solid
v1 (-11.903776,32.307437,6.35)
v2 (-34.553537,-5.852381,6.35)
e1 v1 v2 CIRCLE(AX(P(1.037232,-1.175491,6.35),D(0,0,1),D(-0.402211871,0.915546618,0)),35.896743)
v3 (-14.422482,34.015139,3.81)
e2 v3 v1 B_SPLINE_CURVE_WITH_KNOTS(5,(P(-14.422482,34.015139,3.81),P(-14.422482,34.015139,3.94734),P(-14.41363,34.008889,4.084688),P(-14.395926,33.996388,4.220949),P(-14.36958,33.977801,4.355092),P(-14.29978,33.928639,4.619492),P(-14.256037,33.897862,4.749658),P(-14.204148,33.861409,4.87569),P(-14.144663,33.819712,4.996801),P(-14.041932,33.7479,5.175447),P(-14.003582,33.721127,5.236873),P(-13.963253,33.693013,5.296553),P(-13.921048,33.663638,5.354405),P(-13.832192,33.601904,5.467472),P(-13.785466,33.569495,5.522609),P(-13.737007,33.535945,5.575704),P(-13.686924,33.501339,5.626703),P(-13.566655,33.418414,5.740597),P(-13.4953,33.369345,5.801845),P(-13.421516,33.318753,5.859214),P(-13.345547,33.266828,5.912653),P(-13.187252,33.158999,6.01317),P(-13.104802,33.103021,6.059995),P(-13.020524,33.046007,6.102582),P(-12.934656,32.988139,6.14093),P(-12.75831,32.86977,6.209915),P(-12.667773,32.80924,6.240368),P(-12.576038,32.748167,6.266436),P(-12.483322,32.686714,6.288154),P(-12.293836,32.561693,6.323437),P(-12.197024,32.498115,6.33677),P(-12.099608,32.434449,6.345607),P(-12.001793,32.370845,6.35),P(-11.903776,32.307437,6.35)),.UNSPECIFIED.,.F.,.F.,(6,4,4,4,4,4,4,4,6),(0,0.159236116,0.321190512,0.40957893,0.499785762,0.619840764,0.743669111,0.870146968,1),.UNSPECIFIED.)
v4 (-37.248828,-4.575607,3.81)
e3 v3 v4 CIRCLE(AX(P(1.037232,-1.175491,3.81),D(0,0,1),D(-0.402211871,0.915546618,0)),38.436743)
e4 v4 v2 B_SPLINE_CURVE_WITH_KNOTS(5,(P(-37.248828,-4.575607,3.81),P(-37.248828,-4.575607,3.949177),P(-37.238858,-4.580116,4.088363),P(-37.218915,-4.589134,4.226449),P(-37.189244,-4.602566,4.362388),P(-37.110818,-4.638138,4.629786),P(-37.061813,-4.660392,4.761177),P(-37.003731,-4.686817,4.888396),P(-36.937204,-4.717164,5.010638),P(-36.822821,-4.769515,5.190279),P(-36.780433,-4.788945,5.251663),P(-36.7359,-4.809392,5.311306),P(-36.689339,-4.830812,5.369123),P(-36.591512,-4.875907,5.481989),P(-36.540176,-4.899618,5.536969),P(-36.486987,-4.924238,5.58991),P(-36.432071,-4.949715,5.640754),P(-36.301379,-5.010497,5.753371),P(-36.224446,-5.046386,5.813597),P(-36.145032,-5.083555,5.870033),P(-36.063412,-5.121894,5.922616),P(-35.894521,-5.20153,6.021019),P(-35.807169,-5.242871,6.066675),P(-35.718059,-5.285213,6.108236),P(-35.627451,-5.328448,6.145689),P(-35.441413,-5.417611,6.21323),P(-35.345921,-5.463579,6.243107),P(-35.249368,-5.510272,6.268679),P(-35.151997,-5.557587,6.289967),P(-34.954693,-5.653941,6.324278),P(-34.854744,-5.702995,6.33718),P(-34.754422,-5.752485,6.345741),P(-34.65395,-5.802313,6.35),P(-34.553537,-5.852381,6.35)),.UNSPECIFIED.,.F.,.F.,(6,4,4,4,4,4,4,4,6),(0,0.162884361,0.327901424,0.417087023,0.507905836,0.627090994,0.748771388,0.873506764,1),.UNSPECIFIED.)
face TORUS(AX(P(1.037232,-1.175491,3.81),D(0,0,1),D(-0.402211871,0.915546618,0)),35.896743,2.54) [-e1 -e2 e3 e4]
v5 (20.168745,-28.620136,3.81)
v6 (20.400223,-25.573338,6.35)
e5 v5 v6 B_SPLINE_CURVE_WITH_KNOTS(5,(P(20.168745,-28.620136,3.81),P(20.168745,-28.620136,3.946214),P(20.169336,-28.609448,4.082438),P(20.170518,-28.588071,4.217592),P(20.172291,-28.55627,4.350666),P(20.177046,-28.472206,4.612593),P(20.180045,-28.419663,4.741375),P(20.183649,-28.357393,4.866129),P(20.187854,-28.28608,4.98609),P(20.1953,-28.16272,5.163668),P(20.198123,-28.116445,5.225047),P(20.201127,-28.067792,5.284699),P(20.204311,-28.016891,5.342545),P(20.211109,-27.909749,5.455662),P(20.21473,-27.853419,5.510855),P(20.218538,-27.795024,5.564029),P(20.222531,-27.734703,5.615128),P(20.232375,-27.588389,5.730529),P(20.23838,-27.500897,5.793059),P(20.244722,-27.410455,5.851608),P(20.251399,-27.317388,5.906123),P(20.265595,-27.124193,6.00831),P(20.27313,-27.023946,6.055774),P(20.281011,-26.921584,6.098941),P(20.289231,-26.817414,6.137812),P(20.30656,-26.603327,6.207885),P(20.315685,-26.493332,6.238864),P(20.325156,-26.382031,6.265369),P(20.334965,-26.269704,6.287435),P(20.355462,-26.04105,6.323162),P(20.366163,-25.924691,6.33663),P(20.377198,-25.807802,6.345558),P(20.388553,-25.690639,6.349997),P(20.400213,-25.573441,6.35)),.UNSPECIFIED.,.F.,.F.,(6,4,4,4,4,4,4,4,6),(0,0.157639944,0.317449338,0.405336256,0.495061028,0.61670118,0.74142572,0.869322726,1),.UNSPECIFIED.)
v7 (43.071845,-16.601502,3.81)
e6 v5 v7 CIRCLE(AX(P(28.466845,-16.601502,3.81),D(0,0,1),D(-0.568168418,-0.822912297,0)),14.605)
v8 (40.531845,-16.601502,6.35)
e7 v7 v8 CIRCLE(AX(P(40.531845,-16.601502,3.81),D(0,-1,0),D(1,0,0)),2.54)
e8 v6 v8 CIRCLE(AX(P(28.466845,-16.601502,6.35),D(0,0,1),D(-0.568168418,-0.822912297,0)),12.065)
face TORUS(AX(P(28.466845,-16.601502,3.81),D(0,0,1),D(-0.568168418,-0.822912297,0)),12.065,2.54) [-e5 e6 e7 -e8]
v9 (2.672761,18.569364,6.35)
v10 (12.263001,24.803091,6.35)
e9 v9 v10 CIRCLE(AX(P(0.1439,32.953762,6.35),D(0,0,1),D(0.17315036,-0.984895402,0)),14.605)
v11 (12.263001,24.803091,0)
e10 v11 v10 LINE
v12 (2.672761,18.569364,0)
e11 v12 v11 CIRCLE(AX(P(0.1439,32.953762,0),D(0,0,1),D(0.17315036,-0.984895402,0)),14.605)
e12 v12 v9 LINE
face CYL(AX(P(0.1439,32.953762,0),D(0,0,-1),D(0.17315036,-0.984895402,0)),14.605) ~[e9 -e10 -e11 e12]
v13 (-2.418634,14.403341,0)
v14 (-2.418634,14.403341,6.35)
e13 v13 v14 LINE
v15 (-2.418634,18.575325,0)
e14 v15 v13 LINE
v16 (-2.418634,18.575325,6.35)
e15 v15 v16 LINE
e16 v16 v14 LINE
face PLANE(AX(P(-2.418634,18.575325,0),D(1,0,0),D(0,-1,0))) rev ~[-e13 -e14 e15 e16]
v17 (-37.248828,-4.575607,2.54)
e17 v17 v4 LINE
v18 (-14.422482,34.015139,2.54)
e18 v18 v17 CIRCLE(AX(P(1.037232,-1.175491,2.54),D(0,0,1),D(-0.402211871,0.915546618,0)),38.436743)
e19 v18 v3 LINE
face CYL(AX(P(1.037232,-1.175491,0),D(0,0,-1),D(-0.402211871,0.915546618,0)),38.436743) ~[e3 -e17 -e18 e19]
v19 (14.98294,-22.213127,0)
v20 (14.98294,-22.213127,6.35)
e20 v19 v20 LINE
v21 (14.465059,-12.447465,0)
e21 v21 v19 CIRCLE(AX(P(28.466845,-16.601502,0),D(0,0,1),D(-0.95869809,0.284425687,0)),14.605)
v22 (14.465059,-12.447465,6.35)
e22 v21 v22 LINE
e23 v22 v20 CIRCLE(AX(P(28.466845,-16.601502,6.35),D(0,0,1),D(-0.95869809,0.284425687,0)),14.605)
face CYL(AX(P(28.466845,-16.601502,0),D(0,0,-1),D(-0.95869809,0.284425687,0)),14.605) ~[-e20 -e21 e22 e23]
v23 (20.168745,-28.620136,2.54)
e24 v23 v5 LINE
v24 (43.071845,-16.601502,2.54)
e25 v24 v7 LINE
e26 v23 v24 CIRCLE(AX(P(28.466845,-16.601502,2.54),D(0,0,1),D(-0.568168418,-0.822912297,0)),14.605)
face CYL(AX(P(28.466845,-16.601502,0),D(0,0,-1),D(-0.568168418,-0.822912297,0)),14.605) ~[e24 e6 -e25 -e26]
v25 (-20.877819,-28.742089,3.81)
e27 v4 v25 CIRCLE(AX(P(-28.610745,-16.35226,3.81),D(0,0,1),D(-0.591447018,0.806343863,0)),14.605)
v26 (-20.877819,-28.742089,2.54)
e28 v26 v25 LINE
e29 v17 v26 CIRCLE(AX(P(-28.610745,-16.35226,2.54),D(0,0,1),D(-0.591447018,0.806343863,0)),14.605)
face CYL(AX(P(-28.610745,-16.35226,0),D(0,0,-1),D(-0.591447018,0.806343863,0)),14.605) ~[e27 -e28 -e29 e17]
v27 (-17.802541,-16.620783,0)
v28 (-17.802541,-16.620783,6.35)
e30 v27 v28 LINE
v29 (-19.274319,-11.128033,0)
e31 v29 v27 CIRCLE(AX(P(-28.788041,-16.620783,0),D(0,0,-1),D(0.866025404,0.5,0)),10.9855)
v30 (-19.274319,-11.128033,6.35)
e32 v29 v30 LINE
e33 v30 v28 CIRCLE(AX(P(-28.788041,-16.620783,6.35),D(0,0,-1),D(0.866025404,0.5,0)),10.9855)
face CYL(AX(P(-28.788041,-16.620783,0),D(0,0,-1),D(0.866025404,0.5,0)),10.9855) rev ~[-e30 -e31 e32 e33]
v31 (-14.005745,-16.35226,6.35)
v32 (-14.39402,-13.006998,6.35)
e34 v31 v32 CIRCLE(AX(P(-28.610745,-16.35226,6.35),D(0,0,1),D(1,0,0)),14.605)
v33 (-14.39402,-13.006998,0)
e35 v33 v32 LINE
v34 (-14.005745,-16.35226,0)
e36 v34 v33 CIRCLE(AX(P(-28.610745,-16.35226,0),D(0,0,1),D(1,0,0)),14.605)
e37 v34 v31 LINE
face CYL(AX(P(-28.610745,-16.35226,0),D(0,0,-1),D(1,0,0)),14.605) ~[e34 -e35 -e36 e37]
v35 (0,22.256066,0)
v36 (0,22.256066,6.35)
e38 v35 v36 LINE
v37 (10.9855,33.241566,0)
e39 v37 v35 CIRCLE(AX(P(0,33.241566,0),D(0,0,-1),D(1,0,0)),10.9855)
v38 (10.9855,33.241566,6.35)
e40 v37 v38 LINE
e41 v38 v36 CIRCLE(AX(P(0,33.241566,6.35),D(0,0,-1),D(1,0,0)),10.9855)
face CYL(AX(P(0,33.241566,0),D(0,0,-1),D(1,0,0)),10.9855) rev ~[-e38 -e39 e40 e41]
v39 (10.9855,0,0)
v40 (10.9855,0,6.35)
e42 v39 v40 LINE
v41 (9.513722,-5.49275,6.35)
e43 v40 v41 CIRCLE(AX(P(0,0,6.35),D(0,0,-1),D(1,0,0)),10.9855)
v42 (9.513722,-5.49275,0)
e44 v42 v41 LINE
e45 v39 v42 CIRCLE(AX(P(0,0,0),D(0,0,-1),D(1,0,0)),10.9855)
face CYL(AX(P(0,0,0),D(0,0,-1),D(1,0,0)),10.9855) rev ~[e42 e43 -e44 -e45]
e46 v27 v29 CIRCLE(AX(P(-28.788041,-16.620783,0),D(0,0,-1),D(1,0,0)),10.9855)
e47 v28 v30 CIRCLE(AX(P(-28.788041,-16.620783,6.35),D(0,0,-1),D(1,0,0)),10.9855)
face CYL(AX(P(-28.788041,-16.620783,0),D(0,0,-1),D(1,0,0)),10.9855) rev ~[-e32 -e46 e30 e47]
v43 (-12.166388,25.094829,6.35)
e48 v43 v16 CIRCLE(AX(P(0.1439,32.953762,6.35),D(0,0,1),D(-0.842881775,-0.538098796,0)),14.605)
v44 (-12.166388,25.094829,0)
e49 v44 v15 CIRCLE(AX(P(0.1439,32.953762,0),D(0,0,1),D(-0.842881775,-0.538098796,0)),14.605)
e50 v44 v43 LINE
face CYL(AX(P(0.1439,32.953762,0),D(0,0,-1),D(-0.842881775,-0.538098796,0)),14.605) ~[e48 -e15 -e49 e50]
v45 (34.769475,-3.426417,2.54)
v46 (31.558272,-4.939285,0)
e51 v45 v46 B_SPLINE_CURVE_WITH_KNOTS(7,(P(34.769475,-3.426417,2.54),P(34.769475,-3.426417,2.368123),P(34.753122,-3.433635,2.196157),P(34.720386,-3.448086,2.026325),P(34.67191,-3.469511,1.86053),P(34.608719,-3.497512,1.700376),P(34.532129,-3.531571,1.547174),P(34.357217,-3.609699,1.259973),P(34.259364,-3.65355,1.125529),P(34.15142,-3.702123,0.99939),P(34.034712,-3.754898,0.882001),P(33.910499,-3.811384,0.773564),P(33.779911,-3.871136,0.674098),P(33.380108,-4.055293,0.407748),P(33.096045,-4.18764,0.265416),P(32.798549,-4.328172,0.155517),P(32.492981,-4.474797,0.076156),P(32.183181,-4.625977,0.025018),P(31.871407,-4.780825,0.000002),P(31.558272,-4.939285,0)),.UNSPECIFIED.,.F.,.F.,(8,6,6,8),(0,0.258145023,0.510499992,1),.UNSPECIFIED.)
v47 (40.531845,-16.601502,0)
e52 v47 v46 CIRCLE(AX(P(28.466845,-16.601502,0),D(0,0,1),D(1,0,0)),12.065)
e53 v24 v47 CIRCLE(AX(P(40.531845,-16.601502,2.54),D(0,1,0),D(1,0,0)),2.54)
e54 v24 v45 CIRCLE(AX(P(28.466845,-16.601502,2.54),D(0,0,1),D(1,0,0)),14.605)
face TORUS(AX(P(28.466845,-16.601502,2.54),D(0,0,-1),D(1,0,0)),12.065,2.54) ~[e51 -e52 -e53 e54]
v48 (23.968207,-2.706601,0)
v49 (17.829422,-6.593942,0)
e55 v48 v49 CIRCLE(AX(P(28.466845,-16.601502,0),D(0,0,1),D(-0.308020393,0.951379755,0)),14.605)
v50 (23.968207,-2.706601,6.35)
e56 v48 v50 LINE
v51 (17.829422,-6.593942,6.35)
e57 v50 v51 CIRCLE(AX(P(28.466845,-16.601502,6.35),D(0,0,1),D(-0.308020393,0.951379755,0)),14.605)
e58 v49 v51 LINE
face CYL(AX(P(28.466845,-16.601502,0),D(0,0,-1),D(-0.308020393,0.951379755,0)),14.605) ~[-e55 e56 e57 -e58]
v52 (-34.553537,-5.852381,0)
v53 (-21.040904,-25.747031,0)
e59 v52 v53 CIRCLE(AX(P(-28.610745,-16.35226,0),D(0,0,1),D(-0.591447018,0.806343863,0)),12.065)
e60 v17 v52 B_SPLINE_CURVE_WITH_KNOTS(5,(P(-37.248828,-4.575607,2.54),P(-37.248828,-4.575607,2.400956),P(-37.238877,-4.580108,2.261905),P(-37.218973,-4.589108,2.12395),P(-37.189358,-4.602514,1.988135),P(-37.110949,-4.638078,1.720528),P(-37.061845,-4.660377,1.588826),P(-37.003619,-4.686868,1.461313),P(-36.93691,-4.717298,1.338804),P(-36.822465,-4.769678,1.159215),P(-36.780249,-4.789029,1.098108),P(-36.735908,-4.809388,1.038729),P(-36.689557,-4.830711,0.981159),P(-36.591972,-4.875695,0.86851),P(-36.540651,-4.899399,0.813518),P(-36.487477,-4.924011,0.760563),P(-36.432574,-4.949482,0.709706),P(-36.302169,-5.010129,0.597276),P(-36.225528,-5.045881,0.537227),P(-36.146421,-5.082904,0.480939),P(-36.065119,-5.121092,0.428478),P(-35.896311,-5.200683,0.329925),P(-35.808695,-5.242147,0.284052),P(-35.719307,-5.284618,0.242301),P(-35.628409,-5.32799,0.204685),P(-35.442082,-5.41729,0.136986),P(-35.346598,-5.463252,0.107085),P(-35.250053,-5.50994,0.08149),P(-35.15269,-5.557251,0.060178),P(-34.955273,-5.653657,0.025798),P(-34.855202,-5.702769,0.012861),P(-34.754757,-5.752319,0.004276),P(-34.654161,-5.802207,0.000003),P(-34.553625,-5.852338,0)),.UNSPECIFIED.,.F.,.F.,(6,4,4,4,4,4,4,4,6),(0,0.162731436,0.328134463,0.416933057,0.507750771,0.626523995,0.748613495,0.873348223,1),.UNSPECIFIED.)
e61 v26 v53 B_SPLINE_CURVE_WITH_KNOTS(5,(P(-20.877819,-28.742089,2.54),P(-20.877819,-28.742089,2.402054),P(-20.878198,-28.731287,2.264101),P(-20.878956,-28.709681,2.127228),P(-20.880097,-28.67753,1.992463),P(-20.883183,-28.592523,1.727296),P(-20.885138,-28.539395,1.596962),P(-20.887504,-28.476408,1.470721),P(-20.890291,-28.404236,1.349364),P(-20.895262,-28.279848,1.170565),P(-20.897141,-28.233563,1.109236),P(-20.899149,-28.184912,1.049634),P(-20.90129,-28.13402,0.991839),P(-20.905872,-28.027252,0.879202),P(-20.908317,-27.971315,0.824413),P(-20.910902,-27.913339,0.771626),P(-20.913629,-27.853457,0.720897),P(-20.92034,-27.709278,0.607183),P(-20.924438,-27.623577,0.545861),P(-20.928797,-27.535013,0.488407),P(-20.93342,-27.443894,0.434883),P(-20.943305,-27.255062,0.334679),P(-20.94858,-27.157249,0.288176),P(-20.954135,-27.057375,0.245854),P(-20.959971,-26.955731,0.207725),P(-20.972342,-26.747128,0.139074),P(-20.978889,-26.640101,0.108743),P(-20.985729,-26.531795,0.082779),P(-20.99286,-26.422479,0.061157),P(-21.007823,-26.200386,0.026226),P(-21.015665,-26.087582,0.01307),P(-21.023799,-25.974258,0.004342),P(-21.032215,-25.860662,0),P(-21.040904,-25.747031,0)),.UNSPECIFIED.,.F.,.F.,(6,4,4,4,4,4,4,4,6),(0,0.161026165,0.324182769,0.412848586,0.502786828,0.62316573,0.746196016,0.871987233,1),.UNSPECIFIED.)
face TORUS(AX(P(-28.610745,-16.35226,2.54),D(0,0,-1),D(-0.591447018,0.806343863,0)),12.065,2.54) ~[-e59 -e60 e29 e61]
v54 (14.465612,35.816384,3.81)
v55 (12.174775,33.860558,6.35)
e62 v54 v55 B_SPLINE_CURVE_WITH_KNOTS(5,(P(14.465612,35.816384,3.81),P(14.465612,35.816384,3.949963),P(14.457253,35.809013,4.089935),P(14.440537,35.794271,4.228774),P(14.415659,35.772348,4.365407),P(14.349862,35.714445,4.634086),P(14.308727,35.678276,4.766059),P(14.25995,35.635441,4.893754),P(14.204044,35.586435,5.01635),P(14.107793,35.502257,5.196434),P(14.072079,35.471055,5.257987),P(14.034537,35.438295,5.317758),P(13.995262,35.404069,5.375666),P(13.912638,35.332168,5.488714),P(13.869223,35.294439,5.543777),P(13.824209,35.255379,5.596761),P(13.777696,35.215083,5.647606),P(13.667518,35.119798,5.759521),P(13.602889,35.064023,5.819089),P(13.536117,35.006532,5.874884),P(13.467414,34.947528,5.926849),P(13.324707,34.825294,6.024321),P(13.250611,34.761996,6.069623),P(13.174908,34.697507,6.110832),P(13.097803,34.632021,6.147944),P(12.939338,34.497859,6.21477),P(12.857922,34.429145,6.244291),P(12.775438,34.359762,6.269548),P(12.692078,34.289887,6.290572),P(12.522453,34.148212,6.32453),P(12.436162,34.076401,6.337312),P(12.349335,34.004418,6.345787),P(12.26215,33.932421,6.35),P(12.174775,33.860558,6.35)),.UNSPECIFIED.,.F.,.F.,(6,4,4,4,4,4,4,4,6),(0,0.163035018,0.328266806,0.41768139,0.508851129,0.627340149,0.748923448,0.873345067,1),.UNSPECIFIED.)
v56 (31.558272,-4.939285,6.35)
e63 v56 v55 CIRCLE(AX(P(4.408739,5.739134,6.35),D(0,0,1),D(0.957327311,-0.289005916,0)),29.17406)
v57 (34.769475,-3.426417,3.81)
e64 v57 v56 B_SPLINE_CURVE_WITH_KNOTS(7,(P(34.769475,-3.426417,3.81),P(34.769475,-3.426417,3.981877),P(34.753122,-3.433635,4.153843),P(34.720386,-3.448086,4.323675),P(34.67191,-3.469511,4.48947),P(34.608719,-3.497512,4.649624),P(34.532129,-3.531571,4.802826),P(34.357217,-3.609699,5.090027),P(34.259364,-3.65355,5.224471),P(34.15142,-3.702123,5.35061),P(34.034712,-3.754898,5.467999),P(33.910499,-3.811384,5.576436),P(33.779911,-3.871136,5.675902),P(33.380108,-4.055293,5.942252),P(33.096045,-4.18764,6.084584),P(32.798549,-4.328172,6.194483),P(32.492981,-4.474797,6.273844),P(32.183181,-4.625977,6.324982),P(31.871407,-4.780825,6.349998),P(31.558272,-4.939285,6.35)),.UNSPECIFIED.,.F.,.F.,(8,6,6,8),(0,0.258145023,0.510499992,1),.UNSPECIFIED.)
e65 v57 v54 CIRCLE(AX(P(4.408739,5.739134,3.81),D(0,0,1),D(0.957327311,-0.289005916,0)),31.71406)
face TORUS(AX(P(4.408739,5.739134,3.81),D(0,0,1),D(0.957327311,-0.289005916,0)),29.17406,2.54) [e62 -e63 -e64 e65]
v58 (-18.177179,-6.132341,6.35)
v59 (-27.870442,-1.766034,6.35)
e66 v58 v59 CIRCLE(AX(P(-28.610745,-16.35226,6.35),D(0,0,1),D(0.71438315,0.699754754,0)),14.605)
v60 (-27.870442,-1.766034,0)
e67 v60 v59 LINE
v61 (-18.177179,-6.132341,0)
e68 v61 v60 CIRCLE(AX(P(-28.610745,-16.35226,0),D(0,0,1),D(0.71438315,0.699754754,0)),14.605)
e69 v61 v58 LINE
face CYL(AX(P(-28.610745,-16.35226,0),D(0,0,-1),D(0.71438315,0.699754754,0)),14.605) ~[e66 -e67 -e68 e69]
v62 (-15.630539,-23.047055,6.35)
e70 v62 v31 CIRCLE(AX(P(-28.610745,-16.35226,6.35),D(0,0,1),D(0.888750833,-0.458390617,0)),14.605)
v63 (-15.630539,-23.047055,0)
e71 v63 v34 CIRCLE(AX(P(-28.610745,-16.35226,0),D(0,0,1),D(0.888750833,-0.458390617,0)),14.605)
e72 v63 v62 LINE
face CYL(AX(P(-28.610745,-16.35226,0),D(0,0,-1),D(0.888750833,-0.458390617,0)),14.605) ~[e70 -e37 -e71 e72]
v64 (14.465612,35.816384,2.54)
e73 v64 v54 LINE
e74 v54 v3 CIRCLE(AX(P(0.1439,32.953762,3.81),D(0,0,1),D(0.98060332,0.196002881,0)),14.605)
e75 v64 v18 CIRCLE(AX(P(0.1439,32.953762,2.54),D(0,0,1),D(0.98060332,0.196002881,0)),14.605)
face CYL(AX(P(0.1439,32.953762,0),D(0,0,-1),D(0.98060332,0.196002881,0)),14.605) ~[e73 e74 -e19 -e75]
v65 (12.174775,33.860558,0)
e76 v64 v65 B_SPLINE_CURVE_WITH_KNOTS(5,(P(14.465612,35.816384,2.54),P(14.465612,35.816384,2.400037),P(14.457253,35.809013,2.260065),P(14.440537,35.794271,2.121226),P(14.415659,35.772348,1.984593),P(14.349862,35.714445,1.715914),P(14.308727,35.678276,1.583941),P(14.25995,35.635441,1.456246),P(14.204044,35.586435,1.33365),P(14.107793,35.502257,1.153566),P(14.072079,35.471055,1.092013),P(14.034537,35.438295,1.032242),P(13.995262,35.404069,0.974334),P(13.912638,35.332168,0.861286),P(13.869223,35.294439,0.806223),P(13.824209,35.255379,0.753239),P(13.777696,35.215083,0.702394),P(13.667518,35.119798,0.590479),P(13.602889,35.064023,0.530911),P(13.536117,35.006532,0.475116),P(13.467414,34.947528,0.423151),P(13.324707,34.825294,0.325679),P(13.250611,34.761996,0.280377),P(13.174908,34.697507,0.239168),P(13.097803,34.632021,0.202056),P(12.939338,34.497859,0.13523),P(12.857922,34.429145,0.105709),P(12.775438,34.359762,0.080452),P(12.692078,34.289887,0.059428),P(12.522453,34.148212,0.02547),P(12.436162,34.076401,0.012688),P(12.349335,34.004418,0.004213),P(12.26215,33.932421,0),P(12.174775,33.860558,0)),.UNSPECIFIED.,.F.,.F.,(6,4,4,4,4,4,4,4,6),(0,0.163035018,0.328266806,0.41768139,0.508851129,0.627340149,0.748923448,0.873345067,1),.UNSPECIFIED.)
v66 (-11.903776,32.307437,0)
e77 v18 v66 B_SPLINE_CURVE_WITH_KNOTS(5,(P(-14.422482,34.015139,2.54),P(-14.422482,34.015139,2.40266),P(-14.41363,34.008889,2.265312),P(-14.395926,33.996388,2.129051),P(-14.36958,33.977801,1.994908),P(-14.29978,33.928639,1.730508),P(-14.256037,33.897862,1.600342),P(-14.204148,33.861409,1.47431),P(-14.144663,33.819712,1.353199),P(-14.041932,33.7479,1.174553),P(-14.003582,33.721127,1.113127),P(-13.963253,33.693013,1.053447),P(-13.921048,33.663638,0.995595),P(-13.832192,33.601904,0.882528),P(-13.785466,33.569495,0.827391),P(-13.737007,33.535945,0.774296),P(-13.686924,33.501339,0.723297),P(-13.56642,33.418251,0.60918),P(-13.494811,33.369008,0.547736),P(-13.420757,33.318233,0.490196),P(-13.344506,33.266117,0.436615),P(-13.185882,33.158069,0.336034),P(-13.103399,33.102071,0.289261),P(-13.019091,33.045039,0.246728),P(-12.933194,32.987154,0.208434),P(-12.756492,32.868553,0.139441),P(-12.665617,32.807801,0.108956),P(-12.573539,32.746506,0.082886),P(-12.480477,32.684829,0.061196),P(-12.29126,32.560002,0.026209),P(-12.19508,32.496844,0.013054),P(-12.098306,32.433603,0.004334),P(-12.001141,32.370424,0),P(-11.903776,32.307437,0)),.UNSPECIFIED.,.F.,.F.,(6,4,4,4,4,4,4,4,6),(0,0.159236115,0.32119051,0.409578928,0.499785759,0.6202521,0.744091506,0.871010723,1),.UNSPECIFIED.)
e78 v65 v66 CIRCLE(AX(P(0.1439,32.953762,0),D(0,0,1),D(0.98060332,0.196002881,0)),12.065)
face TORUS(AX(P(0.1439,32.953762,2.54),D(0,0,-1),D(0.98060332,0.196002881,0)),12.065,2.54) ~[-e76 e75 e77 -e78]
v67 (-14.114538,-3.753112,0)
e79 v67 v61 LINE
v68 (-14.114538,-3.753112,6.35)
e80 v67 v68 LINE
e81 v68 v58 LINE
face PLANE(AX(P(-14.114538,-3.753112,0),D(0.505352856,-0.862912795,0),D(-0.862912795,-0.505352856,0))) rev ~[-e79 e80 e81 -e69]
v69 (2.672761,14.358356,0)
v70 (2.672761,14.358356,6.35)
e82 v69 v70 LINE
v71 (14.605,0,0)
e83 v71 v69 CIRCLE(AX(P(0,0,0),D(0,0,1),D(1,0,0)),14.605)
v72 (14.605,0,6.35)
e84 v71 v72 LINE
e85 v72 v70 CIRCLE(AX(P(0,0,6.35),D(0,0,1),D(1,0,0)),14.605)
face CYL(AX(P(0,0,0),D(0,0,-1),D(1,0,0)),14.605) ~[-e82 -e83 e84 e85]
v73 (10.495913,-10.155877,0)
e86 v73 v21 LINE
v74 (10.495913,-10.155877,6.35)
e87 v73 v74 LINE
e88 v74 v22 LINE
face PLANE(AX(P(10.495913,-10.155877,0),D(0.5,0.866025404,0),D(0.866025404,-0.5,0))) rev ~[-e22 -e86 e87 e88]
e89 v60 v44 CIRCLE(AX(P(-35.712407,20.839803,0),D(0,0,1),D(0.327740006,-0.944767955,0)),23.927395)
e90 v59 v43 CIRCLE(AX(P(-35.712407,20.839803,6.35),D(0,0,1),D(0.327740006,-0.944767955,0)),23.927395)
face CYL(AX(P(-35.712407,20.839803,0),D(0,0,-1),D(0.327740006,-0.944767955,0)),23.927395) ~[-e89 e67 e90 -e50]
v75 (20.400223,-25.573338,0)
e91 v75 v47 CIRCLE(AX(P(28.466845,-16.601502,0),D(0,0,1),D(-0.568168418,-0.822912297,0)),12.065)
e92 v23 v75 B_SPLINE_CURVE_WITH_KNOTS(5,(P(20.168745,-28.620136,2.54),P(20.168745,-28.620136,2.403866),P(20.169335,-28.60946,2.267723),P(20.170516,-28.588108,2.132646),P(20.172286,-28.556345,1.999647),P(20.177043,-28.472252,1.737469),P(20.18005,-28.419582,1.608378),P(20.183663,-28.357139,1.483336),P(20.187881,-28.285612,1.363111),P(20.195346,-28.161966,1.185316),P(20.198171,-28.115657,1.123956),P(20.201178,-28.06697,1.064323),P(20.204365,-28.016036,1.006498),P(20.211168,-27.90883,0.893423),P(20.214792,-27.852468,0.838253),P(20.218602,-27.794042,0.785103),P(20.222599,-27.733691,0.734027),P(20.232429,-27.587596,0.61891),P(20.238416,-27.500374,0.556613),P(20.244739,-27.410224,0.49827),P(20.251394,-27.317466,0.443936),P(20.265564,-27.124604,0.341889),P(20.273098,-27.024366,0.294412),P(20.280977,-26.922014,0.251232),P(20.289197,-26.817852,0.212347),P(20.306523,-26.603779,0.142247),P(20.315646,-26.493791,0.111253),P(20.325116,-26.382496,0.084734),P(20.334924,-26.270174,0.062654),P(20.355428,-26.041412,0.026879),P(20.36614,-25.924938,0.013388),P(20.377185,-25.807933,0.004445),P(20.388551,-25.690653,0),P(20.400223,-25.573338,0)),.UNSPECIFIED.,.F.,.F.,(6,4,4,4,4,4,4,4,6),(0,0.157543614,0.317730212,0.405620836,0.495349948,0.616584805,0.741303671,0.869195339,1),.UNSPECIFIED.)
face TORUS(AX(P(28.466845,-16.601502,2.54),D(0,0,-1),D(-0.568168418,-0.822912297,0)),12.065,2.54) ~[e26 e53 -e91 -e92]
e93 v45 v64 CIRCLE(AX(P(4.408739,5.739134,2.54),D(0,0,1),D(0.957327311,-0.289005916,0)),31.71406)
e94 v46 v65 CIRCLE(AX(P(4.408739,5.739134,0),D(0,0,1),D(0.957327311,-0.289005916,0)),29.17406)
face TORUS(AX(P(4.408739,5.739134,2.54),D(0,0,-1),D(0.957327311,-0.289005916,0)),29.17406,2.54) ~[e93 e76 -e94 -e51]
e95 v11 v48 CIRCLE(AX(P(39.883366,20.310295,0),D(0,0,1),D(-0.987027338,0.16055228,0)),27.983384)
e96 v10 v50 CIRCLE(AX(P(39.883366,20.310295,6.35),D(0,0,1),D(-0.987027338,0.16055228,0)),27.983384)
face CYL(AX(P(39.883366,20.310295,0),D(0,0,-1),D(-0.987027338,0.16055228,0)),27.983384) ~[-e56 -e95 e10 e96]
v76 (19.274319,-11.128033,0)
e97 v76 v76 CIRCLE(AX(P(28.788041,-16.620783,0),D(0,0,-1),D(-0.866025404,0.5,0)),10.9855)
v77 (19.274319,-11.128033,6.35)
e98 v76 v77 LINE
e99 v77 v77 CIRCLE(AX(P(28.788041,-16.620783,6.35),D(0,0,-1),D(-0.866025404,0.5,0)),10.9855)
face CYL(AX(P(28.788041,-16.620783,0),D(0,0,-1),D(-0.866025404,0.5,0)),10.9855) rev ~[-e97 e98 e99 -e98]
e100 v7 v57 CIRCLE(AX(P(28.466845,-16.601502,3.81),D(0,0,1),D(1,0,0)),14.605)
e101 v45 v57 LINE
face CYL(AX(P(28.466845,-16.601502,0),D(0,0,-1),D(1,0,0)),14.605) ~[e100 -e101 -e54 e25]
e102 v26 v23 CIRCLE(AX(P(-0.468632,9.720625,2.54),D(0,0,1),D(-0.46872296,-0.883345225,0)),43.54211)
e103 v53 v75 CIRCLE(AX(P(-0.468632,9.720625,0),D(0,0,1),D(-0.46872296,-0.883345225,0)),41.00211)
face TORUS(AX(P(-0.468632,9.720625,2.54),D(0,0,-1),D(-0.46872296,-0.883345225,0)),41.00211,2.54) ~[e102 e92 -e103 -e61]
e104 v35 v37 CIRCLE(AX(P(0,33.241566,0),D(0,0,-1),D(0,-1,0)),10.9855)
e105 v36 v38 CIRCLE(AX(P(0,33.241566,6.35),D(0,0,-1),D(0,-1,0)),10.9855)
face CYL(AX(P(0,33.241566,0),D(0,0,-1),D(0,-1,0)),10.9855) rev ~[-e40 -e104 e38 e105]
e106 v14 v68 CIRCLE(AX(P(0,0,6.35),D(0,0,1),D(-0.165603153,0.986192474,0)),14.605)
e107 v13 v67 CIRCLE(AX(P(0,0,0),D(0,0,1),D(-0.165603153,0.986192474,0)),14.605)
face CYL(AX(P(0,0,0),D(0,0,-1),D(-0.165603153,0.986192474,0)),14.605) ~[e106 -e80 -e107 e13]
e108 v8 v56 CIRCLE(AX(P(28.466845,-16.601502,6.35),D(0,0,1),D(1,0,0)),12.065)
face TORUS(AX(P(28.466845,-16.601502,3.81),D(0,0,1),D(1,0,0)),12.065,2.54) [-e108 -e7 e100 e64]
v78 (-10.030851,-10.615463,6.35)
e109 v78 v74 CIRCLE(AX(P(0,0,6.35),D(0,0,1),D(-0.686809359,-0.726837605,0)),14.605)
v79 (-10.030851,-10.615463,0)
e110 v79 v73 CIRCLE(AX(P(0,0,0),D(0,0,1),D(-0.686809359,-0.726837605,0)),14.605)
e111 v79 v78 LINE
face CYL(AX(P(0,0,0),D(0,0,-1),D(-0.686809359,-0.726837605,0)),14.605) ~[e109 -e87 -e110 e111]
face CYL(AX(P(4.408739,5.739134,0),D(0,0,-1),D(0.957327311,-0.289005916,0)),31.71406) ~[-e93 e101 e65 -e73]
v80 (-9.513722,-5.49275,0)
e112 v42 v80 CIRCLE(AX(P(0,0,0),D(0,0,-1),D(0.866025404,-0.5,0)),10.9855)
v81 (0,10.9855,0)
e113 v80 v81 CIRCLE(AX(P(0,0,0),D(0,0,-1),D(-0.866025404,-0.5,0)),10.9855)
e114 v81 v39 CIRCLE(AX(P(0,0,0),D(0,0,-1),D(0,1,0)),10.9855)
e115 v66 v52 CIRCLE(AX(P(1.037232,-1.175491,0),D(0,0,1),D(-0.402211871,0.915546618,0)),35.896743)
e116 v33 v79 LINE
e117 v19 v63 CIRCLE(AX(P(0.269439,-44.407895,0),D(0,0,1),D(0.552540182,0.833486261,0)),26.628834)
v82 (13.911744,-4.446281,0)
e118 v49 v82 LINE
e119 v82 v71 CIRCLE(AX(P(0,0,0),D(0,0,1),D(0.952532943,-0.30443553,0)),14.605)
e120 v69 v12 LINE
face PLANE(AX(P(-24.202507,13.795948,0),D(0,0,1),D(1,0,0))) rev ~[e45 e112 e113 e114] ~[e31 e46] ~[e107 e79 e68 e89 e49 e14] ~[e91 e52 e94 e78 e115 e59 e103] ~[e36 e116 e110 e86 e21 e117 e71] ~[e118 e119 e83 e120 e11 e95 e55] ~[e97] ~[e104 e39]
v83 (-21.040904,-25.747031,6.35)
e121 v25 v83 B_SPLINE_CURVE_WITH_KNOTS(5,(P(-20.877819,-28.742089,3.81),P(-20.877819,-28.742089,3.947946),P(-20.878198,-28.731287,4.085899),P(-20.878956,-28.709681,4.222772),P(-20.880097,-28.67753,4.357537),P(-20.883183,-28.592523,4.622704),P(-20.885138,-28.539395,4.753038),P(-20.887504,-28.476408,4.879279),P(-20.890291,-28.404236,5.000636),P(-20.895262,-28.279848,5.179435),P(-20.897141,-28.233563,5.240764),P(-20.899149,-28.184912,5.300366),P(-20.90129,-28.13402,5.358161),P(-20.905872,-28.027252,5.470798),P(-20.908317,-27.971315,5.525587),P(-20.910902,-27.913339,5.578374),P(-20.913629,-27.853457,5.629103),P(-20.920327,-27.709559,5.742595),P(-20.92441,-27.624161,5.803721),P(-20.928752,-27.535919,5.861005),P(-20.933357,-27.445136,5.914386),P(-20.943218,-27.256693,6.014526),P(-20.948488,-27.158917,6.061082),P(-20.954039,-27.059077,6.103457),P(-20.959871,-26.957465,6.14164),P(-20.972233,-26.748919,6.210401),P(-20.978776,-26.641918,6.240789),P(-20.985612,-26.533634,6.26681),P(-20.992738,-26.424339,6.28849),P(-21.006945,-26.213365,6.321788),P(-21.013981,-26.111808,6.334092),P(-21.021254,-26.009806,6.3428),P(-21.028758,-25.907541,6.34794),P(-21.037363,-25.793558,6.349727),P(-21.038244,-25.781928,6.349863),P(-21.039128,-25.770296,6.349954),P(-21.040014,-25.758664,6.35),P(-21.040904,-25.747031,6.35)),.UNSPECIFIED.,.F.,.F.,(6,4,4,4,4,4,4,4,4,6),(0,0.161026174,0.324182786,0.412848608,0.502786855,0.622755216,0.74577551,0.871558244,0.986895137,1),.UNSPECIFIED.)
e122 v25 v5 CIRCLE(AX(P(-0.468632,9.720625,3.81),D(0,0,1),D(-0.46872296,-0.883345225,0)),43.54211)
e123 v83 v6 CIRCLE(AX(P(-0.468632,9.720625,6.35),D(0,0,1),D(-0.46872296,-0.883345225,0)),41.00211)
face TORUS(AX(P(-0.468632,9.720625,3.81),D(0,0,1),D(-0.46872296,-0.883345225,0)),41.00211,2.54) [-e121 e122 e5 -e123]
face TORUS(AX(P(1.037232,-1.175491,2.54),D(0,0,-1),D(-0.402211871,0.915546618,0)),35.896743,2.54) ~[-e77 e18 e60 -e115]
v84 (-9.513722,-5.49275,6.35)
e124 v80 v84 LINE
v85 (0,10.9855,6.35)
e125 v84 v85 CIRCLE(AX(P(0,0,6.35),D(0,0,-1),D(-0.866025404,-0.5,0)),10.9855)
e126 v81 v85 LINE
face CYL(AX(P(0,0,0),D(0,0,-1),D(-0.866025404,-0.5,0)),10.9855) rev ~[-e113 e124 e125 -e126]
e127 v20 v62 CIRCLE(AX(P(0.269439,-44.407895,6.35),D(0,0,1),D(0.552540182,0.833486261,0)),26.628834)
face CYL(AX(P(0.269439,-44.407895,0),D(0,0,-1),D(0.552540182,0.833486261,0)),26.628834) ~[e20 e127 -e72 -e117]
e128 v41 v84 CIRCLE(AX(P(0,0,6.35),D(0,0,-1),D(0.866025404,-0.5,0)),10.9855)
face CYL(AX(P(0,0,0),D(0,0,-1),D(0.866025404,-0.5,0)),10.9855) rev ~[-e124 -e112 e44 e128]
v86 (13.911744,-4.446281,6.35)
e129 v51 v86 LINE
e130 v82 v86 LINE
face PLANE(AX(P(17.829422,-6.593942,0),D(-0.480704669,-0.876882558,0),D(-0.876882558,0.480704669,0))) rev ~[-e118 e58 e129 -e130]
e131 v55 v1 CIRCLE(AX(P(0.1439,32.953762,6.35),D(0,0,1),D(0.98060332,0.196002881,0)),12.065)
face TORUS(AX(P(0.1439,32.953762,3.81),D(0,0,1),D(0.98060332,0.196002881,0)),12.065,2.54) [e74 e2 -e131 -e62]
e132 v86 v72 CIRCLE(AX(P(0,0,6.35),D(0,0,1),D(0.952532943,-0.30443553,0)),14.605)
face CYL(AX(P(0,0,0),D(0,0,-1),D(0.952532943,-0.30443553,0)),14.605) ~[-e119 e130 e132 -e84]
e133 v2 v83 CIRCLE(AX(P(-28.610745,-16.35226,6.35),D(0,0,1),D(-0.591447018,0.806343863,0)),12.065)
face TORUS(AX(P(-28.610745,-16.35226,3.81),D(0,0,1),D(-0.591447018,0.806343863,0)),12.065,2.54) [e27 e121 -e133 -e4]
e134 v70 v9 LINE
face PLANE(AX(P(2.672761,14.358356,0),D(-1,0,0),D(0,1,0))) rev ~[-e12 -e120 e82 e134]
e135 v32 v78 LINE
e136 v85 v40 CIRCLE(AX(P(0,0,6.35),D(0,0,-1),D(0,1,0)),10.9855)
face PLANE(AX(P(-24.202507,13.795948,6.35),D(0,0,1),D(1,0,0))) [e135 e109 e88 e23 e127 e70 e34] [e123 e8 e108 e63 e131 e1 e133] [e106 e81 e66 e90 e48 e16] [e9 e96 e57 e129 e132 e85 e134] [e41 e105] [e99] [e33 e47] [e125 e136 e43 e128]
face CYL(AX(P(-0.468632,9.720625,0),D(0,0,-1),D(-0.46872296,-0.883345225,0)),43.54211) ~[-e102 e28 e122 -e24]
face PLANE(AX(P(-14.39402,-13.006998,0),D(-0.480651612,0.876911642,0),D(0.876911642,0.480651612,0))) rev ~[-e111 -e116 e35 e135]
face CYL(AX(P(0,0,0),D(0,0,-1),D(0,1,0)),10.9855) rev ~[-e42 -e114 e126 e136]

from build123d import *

# Parameters (mm, degrees)
F1_DEPTH = 6.35
F2_R     = 2.54


with BuildPart() as f1:
    # F0 (on Top) → F1 (new body)
    with BuildSketch(Plane.XY):
        with BuildLine():
            ThreePointArc((-27.8704423491, -1.7660339676), (-15.0562248636, 8.7632802548), (-12.1663881705, 25.094828609))
            ThreePointArc((-12.1663881705, 25.094828609), (-14.0152610269, 29.3726751227), (-14.4224824657, 34.0151391595))
            ThreePointArc((-14.4224824657, 34.0151391595), (-32.0454449273, 18.3928433513), (-37.2488283994, -4.5756074603))
            ThreePointArc((-37.2488283994, -4.5756074603), (-32.8020647021, -2.3615890522), (-27.8704423491, -1.7660339676))
        make_face()
        with BuildLine():
            ThreePointArc((-14.394020426, -13.0069978615), (-15.0069418895, -11.0378852832), (-15.8911075513, -9.1747352225))
            ThreePointArc((-15.8911075513, -9.1747352225), (-16.934626212, -7.5787607243), (-18.1771787961, -6.1323413971))
            ThreePointArc((-18.1771787961, -6.1323413971), (-22.6124121745, -3.0358774855), (-27.8704423491, -1.7660339676))
            ThreePointArc((-27.8704423491, -1.7660339676), (-32.8020647021, -2.3615890522), (-37.2488283994, -4.5756074603))
            ThreePointArc((-37.2488283994, -4.5756074603), (-40.7024584019, -24.543503969), (-20.8778188993, -28.7420894177))
            ThreePointArc((-20.8778188993, -28.7420894177), (-17.8698503278, -26.2486838315), (-15.6305387893, -23.047054531))
            ThreePointArc((-15.6305387893, -23.047054531), (-14.4177546638, -19.7968290443), (-14.0057446998, -16.3522595736))
            ThreePointArc((-14.0057446998, -16.3522595736), (-14.1031383669, -14.6683998733), (-14.394020426, -13.0069978615))
        make_face()
        with BuildLine():
            ThreePointArc((-17.8025408519, -16.6207831353), (-39.3992190166, -19.4640397553), (-19.2743187786, -11.1280331353))
            ThreePointArc((-19.2743187786, -11.1280331353), (-18.1768626872, -13.7775265153), (-17.8025408519, -16.6207831353))
        make_face(mode=Mode.SUBTRACT)
        with BuildLine():
            ThreePointArc((-10.030850688, -10.6154632247), (-11.4599263482, -9.0540661083), (-12.6483010223, -7.3025))
            Line((-12.6483010223, -7.3025), (-15.8911075513, -9.1747352225))
            ThreePointArc((-15.8911075513, -9.1747352225), (-15.0069418895, -11.0378852832), (-14.394020426, -13.0069978615))
            Line((-14.394020426, -13.0069978615), (-10.030850688, -10.6154632247))
        make_face()
        with BuildLine():
            Line((-15.8911075513, -9.1747352225), (-12.6483010223, -7.3025))
            ThreePointArc((-12.6483010223, -7.3025), (-13.4985896344, -5.5762086476), (-14.1145376702, -3.7531122227))
            Line((-14.1145376702, -3.7531122227), (-18.1771787961, -6.1323413971))
            ThreePointArc((-18.1771787961, -6.1323413971), (-16.934626212, -7.5787607243), (-15.8911075513, -9.1747352225))
        make_face()
        with BuildLine():
            ThreePointArc((-2.4186340525, 18.5753247649), (-1.2140207864, 18.4120258674), (0, 18.3494704449))
            ThreePointArc((0, 18.3494704449), (1.3414384071, 18.3979404445), (2.6727611505, 18.5693641709))
            ThreePointArc((2.6727611505, 18.5693641709), (8.1035191506, 20.7083341934), (12.2630008767, 24.8030914491))
            ThreePointArc((12.2630008767, 24.8030914491), (14.1136082913, 28.693094969), (14.7489001499, 32.953761518))
            ThreePointArc((14.7489001499, 32.953761518), (14.6779054688, 34.3920641245), (14.4656116339, 35.8163835971))
            ThreePointArc((14.4656116339, 35.8163835971), (-0.7649927875, 47.5304531395), (-14.4224824657, 34.0151391595))
            ThreePointArc((-14.4224824657, 34.0151391595), (-14.0152610269, 29.3726751227), (-12.1663881705, 25.094828609))
            ThreePointArc((-12.1663881705, 25.094828609), (-7.975594603, 20.8137520469), (-2.4186340525, 18.5753247649))
        make_face()
        with BuildLine():
            ThreePointArc((10.9855, 33.2415662706), (7.7679215447, 25.4736447259), (0, 22.2560662706))
            ThreePointArc((0, 22.2560662706), (-7.7679215447, 41.0094878153), (10.9855, 33.2415662706))
        make_face(mode=Mode.SUBTRACT)
        with BuildLine():
            Line((0, 18.3494704449), (0, 14.605))
            ThreePointArc((0, 14.605), (1.3420586494, 14.5432081599), (2.6727611505, 14.3583555059))
            Line((2.6727611505, 14.3583555059), (2.6727611505, 18.5693641709))
            ThreePointArc((2.6727611505, 18.5693641709), (1.3414384071, 18.3979404445), (0, 18.3494704449))
        make_face()
        with BuildLine():
            ThreePointArc((-2.4186340525, 14.4033410818), (-1.2135131849, 14.554497956), (0, 14.605))
            Line((0, 14.605), (0, 18.3494704449))
            ThreePointArc((0, 18.3494704449), (-1.2140207864, 18.4120258674), (-2.4186340525, 18.5753247649))
            Line((-2.4186340525, 18.5753247649), (-2.4186340525, 14.4033410818))
        make_face()
        with BuildLine():
            ThreePointArc((-9.5137220733, -5.49275), (-9.5137220733, 5.49275), (0, 10.9855))
            Line((0, 10.9855), (0, 14.605))
            ThreePointArc((0, 14.605), (-1.2135131849, 14.554497956), (-2.4186340525, 14.4033410818))
            ThreePointArc((-2.4186340525, 14.4033410818), (-12.2780552594, 7.9091961694), (-14.1145376702, -3.7531122227))
            ThreePointArc((-14.1145376702, -3.7531122227), (-13.4985896344, -5.5762086476), (-12.6483010223, -7.3025))
            Line((-12.6483010223, -7.3025), (-9.5137220733, -5.49275))
        make_face()
        with BuildLine():
            ThreePointArc((0, 10.9855), (7.7679215447, 7.7679215447), (10.9855, 0))
            ThreePointArc((10.9855, 0), (10.6111781647, -2.84325662), (9.5137220733, -5.49275))
            Line((9.5137220733, -5.49275), (12.6483010223, -7.3025))
            ThreePointArc((12.6483010223, -7.3025), (13.3565897568, -5.9082599018), (13.9117436365, -4.4462809168))
            ThreePointArc((13.9117436365, -4.4462809168), (14.4306451833, -2.2500010209), (14.605, 0))
            ThreePointArc((14.605, 0), (11.2325798818, 9.3346223383), (2.6727611505, 14.3583555059))
            ThreePointArc((2.6727611505, 14.3583555059), (1.3420586494, 14.5432081599), (0, 14.605))
            Line((0, 14.605), (0, 10.9855))
        make_face()
        with BuildLine():
            Line((12.6483010223, -7.3025), (9.5137220733, -5.49275))
            ThreePointArc((9.5137220733, -5.49275), (0, -10.9855), (-9.5137220733, -5.49275))
            Line((-9.5137220733, -5.49275), (-12.6483010223, -7.3025))
            ThreePointArc((-12.6483010223, -7.3025), (-11.4599263482, -9.0540661083), (-10.030850688, -10.6154632247))
            ThreePointArc((-10.030850688, -10.6154632247), (0.3269182096, -14.6013406742), (10.4959127367, -10.1558771568))
            ThreePointArc((10.4959127367, -10.1558771568), (11.6597211772, -8.7952786806), (12.6483010223, -7.3025))
        make_face()
        with BuildLine():
            ThreePointArc((20.168744805, -28.6201360441), (17.1144717419, -25.7900631282), (14.9829399212, -22.2131274632))
            ThreePointArc((14.9829399212, -22.2131274632), (-0.4556750335, -17.7889352), (-15.6305387893, -23.047054531))
            ThreePointArc((-15.6305387893, -23.047054531), (-17.8698503278, -26.2486838315), (-20.8778188993, -28.7420894177))
            ThreePointArc((-20.8778188993, -28.7420894177), (-0.3392650688, -33.821292236), (20.168744805, -28.6201360441))
        make_face()
        with BuildLine():
            Line((15.8911075513, -9.1747352225), (12.6483010223, -7.3025))
            ThreePointArc((12.6483010223, -7.3025), (11.6597211772, -8.7952786806), (10.4959127367, -10.1558771568))
            Line((10.4959127367, -10.1558771568), (14.4650589394, -12.4474647854))
            ThreePointArc((14.4650589394, -12.4474647854), (15.0777121394, -10.7673646223), (15.8911075513, -9.1747352225))
        make_face()
        with BuildLine():
            ThreePointArc((13.9117436365, -4.4462809168), (13.3565897568, -5.9082599018), (12.6483010223, -7.3025))
            Line((12.6483010223, -7.3025), (15.8911075513, -9.1747352225))
            ThreePointArc((15.8911075513, -9.1747352225), (16.7887531153, -7.8306293854), (17.8294218622, -6.5939416241))
            Line((17.8294218622, -6.5939416241), (13.9117436365, -4.4462809168))
        make_face()
        with BuildLine():
            ThreePointArc((17.8294218622, -6.5939416241), (16.7887531153, -7.8306293854), (15.8911075513, -9.1747352225))
            ThreePointArc((15.8911075513, -9.1747352225), (15.0777121394, -10.7673646223), (14.4650589394, -12.4474647854))
            ThreePointArc((14.4650589394, -12.4474647854), (13.8823379122, -17.3749301146), (14.9829399212, -22.2131274632))
            ThreePointArc((14.9829399212, -22.2131274632), (17.1144717419, -25.7900631282), (20.168744805, -28.6201360441))
            ThreePointArc((20.168744805, -28.6201360441), (35.2533119014, -29.5340146889), (43.0718445499, -16.6015019444))
            ThreePointArc((43.0718445499, -16.6015019444), (40.8231373132, -8.8151000701), (34.7694749302, -3.4264165447))
            ThreePointArc((34.7694749302, -3.4264165447), (29.4379938764, -2.0288256636), (23.9682067145, -2.7066006268))
            ThreePointArc((23.9682067145, -2.7066006268), (20.6532066618, -4.2624141356), (17.8294218622, -6.5939416241))
        make_face()
        with BuildLine():
            ThreePointArc((39.7735408519, -16.6207831353), (25.9447842319, -27.2319613), (19.2743187786, -11.1280331353))
            ThreePointArc((19.2743187786, -11.1280331353), (31.6312974719, -6.0096049706), (39.7735408519, -16.6207831353))
        make_face(mode=Mode.SUBTRACT)
        with BuildLine():
            ThreePointArc((14.7489001499, 32.953761518), (14.1136082913, 28.693094969), (12.2630008767, 24.8030914491))
            ThreePointArc((12.2630008767, 24.8030914491), (14.1339726262, 9.3540856845), (23.9682067145, -2.7066006268))
            ThreePointArc((23.9682067145, -2.7066006268), (29.4379938764, -2.0288256636), (34.7694749302, -3.4264165447))
            ThreePointArc((34.7694749302, -3.4264165447), (32.5760092524, 20.3126205074), (14.4656116339, 35.8163835971))
            ThreePointArc((14.4656116339, 35.8163835971), (14.6779054688, 34.3920641245), (14.7489001499, 32.953761518))
        make_face()
    extrude(amount=F1_DEPTH)

    # F2
    f2_edges = [f1.edges().sort_by_distance(p)[0] for p in [
        (-32.045445, 18.392843, 6.35),
        (-40.702458, -24.543504, 6.35),
        (-0.339265, -33.821292, 6.35),
        (41.103155, -23.92473, 6.35),
        (32.576009, 20.312621, 6.35),
        (-0.764993, 47.530453, 6.35),
        (41.103155, -23.92473, 0),
        (-0.339265, -33.821292, 0),
        (-32.045445, 18.392843, 0),
        (-0.764993, 47.530453, 0),
        (32.576009, 20.312621, 0),
        (-40.702458, -24.543504, 0),
    ]]
    fillet(f2_edges, radius=F2_R)


solid = f1.part
